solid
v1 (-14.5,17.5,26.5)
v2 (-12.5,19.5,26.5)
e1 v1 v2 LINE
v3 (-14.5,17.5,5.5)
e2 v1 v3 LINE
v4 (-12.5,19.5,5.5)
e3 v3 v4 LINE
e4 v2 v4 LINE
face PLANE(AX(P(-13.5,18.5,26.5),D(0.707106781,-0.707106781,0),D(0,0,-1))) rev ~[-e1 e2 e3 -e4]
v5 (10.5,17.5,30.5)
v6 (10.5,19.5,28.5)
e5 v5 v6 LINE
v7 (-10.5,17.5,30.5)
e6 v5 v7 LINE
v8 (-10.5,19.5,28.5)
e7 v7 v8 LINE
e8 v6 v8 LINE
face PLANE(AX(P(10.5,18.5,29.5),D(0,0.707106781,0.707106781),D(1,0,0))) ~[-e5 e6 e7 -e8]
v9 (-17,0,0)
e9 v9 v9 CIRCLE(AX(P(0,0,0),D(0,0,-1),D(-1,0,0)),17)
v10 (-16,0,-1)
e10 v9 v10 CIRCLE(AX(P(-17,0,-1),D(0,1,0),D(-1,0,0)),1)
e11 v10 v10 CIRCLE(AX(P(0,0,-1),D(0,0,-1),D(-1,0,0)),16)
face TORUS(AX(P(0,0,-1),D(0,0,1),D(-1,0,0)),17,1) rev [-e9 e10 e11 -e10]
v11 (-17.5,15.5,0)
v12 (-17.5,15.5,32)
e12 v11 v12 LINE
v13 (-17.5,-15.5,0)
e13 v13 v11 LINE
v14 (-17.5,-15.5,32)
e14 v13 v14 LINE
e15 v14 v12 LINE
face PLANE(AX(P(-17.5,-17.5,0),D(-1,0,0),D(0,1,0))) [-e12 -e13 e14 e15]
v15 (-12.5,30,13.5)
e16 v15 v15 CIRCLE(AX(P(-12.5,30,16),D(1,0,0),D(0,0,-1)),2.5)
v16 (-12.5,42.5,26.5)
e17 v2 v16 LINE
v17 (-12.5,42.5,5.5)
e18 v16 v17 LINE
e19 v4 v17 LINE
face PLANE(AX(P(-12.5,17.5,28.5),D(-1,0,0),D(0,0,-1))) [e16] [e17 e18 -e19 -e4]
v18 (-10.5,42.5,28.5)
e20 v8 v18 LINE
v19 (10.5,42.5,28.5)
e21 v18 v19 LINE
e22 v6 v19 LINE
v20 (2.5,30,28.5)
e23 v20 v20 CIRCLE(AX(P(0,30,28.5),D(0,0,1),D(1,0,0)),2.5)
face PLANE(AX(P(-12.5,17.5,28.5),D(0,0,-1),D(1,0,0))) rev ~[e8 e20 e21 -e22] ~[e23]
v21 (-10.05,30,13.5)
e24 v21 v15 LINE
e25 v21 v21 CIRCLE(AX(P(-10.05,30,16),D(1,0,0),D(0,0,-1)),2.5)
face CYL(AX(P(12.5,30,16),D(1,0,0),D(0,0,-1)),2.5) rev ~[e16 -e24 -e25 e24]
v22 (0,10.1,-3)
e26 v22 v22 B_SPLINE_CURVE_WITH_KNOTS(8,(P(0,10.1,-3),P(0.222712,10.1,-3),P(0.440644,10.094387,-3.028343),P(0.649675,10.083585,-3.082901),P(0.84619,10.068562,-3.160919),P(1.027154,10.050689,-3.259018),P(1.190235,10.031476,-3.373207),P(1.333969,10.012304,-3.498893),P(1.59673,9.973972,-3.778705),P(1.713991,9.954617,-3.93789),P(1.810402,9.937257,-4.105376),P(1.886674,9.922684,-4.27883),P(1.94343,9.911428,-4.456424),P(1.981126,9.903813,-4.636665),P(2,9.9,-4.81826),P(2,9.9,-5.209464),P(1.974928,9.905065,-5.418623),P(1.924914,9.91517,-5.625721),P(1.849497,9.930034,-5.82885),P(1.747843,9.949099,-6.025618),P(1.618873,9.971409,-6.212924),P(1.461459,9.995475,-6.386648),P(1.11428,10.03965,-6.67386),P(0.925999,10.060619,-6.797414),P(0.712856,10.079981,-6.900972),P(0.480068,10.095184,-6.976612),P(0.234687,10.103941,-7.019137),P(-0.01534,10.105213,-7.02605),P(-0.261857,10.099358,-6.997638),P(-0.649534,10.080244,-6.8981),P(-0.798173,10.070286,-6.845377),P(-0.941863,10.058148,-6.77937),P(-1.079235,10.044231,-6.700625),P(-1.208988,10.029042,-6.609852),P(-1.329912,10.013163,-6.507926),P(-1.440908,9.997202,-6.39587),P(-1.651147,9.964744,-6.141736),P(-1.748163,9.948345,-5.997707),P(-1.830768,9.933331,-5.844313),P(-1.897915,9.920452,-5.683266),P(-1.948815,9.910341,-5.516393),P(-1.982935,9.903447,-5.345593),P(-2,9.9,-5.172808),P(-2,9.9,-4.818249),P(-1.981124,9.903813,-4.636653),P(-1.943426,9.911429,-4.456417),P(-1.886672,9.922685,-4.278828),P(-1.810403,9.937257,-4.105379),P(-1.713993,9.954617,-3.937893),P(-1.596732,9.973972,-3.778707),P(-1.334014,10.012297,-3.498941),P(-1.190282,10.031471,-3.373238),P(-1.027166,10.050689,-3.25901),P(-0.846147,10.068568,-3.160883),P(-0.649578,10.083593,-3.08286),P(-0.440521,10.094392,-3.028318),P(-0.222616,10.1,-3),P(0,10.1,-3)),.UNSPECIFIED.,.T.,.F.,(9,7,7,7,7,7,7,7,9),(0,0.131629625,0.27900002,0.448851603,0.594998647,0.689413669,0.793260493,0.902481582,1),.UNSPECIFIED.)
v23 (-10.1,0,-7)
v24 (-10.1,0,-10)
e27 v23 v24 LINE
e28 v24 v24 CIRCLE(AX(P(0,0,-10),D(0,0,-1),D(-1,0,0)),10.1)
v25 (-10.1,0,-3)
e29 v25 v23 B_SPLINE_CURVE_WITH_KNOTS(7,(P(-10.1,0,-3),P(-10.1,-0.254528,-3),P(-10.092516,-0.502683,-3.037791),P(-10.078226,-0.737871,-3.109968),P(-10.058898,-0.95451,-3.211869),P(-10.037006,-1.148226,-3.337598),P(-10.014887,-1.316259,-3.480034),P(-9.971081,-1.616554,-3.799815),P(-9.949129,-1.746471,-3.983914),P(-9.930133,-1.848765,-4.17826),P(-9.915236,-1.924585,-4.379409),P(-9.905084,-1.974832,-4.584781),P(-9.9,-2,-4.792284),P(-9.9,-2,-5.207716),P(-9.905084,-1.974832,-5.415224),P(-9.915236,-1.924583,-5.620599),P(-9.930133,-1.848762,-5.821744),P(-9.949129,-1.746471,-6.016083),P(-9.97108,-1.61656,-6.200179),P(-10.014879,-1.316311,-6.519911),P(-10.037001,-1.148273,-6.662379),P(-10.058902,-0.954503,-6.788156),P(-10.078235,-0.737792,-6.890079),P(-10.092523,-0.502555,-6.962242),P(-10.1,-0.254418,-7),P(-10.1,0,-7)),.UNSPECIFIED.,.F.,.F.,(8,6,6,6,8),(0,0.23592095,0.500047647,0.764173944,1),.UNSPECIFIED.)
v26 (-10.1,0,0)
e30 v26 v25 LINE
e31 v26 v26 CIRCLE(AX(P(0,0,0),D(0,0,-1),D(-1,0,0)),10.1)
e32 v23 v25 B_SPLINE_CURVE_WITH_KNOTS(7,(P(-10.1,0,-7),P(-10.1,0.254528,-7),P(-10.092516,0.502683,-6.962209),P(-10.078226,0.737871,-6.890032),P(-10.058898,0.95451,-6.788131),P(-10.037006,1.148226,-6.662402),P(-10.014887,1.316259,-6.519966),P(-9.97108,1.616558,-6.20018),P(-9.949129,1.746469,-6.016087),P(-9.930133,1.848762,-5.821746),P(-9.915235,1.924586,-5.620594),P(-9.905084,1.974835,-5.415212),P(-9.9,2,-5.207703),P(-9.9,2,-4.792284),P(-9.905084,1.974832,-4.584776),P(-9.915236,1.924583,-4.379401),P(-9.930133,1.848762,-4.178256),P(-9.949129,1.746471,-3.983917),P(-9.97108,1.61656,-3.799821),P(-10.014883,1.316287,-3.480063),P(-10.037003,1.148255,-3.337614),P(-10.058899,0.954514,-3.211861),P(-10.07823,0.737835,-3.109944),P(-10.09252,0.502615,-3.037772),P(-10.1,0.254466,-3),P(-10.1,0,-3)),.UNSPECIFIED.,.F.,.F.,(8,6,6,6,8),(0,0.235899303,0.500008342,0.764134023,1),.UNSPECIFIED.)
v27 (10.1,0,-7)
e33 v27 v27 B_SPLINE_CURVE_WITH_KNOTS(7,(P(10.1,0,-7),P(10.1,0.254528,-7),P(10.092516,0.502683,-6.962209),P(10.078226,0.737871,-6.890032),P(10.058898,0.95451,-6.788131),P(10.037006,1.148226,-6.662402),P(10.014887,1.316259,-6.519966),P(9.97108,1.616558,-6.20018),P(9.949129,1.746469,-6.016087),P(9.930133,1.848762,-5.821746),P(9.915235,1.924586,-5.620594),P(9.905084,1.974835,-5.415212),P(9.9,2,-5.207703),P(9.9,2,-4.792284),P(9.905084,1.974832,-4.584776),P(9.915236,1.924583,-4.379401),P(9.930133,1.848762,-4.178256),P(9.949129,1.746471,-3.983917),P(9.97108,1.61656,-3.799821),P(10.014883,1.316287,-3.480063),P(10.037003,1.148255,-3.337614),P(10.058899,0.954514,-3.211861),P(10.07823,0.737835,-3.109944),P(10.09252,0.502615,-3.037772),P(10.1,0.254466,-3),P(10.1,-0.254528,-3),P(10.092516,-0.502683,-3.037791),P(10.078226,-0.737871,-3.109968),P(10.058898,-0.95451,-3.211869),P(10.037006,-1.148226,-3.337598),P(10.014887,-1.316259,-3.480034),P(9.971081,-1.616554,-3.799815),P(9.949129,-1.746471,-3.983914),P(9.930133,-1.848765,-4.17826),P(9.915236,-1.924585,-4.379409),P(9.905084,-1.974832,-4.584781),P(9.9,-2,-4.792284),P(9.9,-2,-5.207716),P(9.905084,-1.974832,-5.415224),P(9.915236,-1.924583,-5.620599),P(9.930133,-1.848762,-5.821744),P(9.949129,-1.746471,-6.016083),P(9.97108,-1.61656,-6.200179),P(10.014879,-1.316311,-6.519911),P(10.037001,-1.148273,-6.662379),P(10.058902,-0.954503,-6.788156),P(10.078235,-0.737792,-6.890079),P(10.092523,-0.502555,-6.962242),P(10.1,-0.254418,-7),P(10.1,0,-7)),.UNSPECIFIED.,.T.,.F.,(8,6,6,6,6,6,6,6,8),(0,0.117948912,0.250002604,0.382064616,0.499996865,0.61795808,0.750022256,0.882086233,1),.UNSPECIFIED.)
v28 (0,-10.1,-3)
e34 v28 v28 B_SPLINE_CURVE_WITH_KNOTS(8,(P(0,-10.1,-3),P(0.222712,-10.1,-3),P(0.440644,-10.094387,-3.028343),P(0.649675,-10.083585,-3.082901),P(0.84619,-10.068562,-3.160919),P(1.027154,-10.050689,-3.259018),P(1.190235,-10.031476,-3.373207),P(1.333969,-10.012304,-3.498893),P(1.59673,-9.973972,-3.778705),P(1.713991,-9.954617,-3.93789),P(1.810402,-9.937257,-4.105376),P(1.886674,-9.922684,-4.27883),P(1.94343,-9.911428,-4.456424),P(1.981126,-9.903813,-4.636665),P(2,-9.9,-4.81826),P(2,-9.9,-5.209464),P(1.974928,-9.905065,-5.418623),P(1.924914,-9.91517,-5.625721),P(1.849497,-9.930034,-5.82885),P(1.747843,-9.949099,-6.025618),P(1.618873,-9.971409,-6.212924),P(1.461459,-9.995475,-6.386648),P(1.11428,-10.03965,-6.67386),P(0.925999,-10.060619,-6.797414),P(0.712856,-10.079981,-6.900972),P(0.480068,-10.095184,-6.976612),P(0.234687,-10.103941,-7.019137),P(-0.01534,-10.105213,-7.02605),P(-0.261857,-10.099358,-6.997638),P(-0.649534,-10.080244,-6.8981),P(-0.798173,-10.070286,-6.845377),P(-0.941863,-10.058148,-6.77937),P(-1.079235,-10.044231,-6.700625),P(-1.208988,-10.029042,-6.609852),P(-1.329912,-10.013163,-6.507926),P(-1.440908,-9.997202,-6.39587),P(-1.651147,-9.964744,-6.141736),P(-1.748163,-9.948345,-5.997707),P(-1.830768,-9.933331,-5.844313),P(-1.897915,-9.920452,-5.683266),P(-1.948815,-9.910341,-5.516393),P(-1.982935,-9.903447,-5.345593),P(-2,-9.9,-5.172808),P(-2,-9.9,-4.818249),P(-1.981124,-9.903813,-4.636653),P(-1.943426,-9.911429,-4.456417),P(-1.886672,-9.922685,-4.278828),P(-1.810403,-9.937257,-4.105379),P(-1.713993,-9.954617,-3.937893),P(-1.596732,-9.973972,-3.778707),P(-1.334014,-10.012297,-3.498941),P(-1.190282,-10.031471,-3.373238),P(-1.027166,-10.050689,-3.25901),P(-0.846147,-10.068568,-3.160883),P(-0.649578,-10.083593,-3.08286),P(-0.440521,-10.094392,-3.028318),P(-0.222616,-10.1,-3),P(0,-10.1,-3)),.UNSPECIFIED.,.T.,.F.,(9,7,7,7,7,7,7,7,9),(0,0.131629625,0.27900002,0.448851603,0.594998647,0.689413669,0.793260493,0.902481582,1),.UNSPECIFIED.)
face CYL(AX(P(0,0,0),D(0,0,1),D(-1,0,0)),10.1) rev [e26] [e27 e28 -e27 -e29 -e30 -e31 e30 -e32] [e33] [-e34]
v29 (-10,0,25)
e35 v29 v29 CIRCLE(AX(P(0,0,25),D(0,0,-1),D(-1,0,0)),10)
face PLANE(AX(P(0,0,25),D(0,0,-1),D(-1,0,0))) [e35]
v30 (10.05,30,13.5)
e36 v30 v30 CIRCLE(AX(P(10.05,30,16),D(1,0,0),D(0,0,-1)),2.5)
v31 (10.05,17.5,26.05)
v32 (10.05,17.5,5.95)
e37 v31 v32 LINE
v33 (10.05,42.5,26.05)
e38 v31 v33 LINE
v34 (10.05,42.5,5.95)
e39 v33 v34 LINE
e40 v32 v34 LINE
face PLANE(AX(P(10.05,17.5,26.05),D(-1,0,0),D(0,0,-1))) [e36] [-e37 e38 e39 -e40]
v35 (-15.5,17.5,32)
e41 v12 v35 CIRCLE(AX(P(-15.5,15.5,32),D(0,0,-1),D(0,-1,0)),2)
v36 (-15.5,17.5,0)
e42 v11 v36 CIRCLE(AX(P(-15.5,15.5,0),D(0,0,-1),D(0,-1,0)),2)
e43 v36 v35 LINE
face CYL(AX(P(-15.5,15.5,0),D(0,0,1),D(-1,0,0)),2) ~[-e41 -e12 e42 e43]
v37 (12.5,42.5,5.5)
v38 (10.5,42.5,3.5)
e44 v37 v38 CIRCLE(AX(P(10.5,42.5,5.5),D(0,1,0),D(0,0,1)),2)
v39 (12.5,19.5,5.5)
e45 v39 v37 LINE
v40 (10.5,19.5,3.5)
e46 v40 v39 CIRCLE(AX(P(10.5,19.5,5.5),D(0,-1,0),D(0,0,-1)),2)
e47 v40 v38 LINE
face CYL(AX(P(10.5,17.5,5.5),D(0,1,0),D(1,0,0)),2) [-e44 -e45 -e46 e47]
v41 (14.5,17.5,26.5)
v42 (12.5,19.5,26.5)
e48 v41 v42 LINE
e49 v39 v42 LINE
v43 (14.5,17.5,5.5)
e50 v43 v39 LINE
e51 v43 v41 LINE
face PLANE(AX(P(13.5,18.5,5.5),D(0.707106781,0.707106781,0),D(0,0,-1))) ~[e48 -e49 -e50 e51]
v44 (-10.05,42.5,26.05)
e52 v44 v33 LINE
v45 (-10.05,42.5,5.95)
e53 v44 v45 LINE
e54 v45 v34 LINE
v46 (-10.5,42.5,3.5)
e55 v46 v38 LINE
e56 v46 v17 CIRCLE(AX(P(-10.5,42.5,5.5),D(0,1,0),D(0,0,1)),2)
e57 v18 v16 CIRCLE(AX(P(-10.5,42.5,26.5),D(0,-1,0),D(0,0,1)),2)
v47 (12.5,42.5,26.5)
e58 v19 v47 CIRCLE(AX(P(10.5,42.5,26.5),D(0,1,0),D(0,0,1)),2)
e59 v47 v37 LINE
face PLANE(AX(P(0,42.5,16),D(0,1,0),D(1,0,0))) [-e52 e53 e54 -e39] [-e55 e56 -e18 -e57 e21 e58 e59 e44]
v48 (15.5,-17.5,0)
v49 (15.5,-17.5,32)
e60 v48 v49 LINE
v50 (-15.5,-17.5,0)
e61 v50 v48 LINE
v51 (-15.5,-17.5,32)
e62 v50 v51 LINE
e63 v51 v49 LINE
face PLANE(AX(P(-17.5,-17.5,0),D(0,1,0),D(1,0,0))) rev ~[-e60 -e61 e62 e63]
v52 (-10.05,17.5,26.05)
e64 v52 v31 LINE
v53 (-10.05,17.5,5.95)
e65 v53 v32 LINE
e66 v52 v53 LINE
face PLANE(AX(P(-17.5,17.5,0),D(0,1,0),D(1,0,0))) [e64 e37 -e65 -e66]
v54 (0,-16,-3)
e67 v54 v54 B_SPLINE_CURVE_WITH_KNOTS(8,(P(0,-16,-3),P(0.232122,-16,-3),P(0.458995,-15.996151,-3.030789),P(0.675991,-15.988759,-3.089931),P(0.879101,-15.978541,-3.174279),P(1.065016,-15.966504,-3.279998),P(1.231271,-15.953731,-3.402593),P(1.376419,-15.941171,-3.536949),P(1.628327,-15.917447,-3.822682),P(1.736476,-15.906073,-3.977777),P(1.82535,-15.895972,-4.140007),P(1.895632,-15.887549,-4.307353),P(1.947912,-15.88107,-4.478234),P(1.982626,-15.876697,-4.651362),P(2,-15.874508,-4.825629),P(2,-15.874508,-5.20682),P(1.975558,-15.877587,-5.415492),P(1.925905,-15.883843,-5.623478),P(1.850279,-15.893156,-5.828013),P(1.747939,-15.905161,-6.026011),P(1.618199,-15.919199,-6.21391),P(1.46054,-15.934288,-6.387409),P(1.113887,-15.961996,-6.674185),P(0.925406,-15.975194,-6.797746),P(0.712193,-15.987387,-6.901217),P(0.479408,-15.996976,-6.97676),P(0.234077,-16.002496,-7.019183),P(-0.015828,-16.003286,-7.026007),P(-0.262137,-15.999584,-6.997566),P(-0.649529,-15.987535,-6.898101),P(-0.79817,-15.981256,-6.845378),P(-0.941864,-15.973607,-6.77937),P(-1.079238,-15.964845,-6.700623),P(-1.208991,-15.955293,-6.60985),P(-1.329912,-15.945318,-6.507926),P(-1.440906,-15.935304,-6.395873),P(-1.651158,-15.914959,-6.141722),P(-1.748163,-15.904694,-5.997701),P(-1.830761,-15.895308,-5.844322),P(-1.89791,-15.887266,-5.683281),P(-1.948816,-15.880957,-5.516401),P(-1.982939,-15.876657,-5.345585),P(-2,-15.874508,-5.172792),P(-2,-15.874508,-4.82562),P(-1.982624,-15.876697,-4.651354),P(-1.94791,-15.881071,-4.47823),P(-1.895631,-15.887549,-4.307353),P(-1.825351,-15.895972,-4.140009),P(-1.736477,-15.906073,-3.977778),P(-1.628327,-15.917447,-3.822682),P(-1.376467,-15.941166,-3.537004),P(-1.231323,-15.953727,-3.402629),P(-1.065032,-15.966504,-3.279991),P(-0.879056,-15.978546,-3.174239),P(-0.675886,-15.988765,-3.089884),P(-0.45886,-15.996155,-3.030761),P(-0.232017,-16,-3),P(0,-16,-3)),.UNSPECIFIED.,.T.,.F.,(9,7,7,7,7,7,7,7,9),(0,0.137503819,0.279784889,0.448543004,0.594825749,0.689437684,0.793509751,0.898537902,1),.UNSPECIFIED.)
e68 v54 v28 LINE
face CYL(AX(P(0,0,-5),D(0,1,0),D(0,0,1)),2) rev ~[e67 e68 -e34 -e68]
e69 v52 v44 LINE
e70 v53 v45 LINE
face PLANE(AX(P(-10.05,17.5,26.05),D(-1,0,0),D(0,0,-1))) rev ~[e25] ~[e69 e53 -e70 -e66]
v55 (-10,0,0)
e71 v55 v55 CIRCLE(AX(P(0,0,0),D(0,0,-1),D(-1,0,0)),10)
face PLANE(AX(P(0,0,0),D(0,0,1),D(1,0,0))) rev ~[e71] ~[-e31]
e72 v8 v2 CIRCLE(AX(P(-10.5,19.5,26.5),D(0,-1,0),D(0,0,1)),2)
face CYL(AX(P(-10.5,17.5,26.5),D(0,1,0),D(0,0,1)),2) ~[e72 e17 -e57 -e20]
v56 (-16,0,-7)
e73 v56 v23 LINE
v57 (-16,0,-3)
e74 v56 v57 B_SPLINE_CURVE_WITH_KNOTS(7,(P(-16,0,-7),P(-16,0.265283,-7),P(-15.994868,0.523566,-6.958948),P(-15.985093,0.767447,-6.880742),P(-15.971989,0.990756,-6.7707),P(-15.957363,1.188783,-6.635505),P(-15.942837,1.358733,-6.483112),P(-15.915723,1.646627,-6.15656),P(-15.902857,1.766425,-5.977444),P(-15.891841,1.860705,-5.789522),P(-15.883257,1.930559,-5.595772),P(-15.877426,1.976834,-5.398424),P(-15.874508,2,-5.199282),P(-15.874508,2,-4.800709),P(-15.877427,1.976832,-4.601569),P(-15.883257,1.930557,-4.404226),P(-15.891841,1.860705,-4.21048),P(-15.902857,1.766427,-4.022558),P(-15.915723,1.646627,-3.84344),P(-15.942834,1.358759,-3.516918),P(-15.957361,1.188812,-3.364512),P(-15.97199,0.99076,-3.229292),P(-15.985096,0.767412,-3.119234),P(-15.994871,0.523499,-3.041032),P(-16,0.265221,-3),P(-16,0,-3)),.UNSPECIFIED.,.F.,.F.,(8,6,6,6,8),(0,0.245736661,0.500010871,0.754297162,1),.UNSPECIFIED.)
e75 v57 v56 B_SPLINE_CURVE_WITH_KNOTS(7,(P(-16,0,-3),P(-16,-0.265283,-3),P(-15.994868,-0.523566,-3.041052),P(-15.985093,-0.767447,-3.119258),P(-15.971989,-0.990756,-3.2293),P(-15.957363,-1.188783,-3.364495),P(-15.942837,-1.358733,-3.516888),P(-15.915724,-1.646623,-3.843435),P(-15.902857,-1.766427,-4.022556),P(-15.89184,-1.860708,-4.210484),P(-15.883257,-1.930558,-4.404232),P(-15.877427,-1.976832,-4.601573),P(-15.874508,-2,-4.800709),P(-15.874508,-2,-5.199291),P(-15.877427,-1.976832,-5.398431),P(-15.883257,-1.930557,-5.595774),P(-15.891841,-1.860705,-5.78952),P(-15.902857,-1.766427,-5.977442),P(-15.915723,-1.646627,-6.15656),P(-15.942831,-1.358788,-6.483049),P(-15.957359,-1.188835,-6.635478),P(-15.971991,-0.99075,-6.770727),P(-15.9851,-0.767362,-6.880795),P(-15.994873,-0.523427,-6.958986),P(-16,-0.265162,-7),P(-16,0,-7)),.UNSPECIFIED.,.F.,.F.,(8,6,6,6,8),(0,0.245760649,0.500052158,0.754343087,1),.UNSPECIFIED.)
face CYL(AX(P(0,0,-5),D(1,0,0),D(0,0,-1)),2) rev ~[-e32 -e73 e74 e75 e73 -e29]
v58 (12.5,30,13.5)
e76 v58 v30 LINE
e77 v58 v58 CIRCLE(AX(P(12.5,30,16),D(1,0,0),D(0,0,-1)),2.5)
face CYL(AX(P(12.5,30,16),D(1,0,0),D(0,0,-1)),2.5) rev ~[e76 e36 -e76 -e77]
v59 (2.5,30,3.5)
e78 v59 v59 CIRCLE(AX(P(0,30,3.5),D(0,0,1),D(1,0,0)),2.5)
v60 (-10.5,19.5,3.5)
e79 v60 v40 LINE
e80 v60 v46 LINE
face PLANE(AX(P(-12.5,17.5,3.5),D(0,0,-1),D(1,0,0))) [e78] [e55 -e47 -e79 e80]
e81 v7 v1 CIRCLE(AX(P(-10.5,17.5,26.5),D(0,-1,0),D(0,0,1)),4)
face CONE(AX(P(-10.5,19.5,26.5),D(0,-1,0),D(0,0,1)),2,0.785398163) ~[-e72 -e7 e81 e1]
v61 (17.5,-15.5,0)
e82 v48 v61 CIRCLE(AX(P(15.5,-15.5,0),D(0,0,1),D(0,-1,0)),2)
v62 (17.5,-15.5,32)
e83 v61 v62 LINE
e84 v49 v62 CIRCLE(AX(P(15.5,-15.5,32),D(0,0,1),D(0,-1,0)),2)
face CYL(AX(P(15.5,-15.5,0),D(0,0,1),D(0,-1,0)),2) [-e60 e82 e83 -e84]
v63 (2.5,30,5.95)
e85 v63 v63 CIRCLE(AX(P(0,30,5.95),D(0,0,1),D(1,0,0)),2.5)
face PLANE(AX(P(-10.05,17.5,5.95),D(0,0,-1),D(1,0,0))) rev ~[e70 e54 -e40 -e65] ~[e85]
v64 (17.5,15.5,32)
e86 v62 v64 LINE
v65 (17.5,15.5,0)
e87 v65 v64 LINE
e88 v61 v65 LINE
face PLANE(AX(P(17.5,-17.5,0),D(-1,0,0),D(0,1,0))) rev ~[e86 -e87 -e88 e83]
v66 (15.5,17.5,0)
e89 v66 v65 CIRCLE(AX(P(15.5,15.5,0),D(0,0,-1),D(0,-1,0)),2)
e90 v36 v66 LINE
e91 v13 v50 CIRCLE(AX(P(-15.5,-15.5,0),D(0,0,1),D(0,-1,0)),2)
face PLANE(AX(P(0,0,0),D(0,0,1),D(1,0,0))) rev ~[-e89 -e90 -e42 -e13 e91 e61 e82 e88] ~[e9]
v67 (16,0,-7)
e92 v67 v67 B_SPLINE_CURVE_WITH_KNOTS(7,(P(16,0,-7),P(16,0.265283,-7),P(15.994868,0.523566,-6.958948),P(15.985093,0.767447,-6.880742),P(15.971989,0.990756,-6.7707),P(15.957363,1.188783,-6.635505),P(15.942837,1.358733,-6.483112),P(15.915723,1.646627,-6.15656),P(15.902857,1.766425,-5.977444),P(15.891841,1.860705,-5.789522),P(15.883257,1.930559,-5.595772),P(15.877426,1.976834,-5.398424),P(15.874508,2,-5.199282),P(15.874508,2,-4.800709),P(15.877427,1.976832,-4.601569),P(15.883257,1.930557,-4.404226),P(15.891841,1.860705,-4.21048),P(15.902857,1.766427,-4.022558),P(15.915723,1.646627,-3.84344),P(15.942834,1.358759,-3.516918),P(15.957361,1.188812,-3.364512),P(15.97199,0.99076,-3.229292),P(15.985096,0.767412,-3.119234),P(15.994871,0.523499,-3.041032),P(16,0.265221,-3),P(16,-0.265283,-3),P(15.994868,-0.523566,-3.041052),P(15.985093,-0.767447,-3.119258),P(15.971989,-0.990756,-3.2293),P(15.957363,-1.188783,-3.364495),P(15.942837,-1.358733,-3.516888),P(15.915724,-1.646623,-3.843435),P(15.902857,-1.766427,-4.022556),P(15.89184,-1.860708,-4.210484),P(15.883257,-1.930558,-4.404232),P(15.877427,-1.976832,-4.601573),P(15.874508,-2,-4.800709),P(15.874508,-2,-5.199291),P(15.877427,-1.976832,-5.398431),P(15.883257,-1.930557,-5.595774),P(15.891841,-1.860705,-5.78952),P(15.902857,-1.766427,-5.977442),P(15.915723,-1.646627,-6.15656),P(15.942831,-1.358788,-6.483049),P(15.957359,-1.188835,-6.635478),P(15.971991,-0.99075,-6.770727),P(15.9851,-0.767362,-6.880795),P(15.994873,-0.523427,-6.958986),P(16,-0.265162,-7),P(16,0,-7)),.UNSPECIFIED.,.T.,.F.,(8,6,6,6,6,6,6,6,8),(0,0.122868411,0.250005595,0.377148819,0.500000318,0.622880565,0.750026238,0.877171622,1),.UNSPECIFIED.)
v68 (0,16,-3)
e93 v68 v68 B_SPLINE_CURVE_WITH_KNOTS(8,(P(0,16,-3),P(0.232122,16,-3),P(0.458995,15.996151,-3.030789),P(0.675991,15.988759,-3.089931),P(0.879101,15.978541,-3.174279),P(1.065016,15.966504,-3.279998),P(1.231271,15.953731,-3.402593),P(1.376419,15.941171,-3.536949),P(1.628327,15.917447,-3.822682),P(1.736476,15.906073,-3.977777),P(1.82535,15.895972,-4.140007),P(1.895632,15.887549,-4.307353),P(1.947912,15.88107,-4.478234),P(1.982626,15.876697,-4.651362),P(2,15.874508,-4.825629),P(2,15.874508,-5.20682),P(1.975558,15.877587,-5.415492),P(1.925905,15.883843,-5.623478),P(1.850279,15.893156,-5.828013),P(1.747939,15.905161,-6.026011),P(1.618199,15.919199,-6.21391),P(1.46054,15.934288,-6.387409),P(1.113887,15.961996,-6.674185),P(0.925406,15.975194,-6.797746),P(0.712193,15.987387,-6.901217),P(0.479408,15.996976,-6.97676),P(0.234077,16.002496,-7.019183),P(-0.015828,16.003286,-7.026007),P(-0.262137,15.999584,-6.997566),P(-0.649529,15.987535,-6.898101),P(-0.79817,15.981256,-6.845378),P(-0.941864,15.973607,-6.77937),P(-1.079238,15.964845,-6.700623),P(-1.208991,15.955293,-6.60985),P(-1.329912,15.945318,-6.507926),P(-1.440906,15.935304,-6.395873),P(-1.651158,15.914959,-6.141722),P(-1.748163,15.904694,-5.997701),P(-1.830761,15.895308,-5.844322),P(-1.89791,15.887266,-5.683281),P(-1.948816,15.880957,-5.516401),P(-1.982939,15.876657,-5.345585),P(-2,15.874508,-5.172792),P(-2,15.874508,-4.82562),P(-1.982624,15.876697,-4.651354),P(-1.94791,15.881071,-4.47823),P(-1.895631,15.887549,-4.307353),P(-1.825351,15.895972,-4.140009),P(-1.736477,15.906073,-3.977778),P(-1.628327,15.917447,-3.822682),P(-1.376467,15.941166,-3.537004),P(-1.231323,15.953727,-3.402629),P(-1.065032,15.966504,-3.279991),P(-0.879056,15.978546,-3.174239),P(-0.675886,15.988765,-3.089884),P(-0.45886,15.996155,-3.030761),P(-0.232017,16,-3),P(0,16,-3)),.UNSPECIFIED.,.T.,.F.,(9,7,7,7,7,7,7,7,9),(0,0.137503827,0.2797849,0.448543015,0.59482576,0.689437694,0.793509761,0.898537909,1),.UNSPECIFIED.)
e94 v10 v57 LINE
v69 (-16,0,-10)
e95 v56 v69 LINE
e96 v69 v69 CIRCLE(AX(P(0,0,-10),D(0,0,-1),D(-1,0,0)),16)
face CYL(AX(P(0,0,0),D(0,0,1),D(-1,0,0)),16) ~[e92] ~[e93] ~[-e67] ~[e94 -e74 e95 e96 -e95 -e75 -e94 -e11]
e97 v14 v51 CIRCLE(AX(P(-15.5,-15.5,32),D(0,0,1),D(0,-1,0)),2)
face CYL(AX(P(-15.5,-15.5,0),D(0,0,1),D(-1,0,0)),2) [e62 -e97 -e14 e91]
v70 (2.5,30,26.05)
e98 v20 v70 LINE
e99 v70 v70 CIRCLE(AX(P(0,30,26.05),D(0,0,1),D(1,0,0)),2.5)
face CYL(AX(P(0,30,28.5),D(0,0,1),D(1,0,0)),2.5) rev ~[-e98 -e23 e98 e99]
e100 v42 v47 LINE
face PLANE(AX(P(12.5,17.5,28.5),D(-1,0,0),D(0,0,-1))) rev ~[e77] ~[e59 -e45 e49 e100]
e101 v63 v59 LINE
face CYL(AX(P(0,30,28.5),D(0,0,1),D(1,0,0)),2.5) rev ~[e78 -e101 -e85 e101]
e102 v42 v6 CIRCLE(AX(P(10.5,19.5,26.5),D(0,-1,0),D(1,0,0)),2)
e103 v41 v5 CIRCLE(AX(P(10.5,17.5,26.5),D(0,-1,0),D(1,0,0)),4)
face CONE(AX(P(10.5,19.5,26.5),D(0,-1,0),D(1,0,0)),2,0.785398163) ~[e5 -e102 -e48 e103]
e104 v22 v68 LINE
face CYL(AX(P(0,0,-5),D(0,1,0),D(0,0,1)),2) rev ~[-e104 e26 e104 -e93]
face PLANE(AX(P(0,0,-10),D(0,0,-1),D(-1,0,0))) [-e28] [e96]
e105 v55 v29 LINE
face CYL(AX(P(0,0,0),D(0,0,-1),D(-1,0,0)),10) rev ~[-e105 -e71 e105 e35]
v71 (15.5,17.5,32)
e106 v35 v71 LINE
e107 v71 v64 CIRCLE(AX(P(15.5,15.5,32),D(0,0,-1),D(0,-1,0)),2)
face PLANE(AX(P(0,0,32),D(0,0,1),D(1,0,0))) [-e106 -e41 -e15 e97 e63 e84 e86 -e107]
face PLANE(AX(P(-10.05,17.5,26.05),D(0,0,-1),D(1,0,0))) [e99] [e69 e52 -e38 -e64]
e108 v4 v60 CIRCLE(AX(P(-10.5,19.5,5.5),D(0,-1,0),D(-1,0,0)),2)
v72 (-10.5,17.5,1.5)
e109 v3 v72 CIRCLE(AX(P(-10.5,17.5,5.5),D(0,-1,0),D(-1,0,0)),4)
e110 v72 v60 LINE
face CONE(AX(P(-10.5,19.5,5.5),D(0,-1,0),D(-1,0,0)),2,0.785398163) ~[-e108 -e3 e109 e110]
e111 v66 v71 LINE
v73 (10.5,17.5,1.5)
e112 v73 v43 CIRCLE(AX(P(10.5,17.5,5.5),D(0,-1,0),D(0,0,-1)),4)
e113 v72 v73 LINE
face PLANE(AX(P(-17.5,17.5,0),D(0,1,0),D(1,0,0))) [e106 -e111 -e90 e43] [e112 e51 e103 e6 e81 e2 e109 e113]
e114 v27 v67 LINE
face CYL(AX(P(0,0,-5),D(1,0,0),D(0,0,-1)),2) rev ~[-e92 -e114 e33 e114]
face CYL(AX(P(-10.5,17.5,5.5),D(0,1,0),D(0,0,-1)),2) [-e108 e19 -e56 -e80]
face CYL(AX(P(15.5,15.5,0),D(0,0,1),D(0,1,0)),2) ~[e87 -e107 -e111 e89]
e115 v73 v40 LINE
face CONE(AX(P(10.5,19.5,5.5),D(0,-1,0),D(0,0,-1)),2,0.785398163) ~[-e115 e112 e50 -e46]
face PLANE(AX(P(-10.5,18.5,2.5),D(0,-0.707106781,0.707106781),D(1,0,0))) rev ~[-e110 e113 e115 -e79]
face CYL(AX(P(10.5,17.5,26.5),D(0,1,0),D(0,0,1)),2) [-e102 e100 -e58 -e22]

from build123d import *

# Parameters (mm, degrees)
SKETCH1_W           = 35
SKETCH1_H           = 35
BOSS_EXTRUDE1_DEPTH = 32
SKETCH2_R           = 16
SKETCH2_R_2         = 10.1
BOSS_EXTRUDE2_DEPTH = 10
SKETCH3_R           = 10
CUT_EXTRUDE1_DEPTH  = 25
SKETCH4_R           = 2
CUT_EXTRUDE2_DEPTH  = 20
SKETCH5_R           = 2
CUT_EXTRUDE3_DEPTH  = 20
SKETCH6_W           = 25
SKETCH6_H           = 25
SKETCH6_W_2         = 20.1
SKETCH6_H_2         = 20.1
BOSS_EXTRUDE3_DEPTH = 25
SKETCH7_R           = 2.5
CUT_EXTRUDE4_DEPTH  = 60.956234102
SKETCH8_R           = 2.5
CUT_EXTRUDE5_DEPTH  = 25
FILLET1_R           = 2
FILLET2_R           = 2
FILLET3_R           = 1
CHAMFER1_SIZE       = 2


with BuildPart() as part:
    # Sketch1 → Boss-Extrude1 (new body)
    with BuildSketch(Plane.XY):
        Rectangle(SKETCH1_W, SKETCH1_H)
    extrude(amount=BOSS_EXTRUDE1_DEPTH)

    # Sketch2 → Boss-Extrude2 (add)
    with BuildSketch(Plane(origin=(0, 0, 0), x_dir=(-1, 0, 0), z_dir=(0, 0, -1))):
        Circle(SKETCH2_R)
        Circle(SKETCH2_R_2, mode=Mode.SUBTRACT)
    extrude(amount=BOSS_EXTRUDE2_DEPTH)

    # Sketch3 → Cut-Extrude1 (cut)
    with BuildSketch(Plane(origin=(0, 0, 0), x_dir=(-1, 0, 0), z_dir=(0, 0, -1))):
        Circle(SKETCH3_R)
    extrude(amount=-CUT_EXTRUDE1_DEPTH, mode=Mode.SUBTRACT)

    # Sketch4 → Cut-Extrude2 (cut, symmetric)
    with BuildSketch(Plane(origin=(0, 0, 0), x_dir=(1, 0, 0), z_dir=(0, 1, 0))):
        with Locations(Location((0, 5, 0), (0, 0, 270))):
            Circle(SKETCH4_R)
    extrude(amount=CUT_EXTRUDE2_DEPTH, both=True, mode=Mode.SUBTRACT)

    # Sketch5 → Cut-Extrude3 (cut, symmetric)
    with BuildSketch(Plane(origin=(0, 0, 0), x_dir=(0, 0, -1), z_dir=(1, 0, 0))):
        with Locations((5, 0)):
            Circle(SKETCH5_R)
    extrude(amount=CUT_EXTRUDE3_DEPTH, both=True, mode=Mode.SUBTRACT)

    # Sketch6 → Boss-Extrude3 (add)
    with BuildSketch(Plane(origin=(0, 17.5, 0), x_dir=(1, 0, 0), z_dir=(0, 1, 0))):
        with Locations((0, -16)):
            Rectangle(SKETCH6_W, SKETCH6_H)
        with Locations((0, -16)):
            Rectangle(SKETCH6_W_2, SKETCH6_H_2, mode=Mode.SUBTRACT)
    extrude(amount=BOSS_EXTRUDE3_DEPTH)

    # Sketch7 → Cut-Extrude4 (cut, through all)
    with BuildSketch(Plane.XY.offset(28.5)):
        with Locations((0, 30)):
            Circle(SKETCH7_R)
    extrude(amount=-CUT_EXTRUDE4_DEPTH, mode=Mode.SUBTRACT)

    # Sketch8 → Cut-Extrude5 (cut)
    with BuildSketch(Plane(origin=(12.5, 0, 0), x_dir=(0, 0, -1), z_dir=(1, 0, 0))):
        with Locations((-16, 30)):
            Circle(SKETCH8_R)
    extrude(amount=-CUT_EXTRUDE5_DEPTH, mode=Mode.SUBTRACT)

    # Fillet1
    fillet1_edges = [part.edges().sort_by_distance(p)[0] for p in [
        (-12.5, 30, 3.5),
        (-12.5, 30, 28.5),
        (12.5, 30, 28.5),
        (12.5, 30, 3.5),
        (-17.5, 17.5, 16),
        (17.5, 17.5, 16),
    ]]
    fillet(fillet1_edges, radius=FILLET1_R)

    # Fillet2
    fillet2_edges = [part.edges().sort_by_distance(p)[0] for p in [
        (17.5, -17.5, 16),
        (-17.5, -17.5, 16),
    ]]
    fillet(fillet2_edges, radius=FILLET2_R)

    # Fillet3
    fillet3_edges = [part.edges().sort_by_distance(p)[0] for p in [
        (16, 0, 0),
    ]]
    fillet(fillet3_edges, radius=FILLET3_R)

    # Chamfer1
    chamfer1_edges = [part.edges().sort_by_distance(p)[0] for p in [
        (-12.5, 17.5, 16),
        (0, 17.5, 3.5),
        (12.5, 17.5, 16),
        (0, 17.5, 28.5),
        (11.914213562, 17.5, 27.914213562),
        (11.914213562, 17.5, 4.085786438),
        (-11.914213562, 17.5, 4.085786438),
        (-11.914213562, 17.5, 27.914213562),
    ]]
    chamfer(chamfer1_edges, length=CHAMFER1_SIZE)


solid = part.part
